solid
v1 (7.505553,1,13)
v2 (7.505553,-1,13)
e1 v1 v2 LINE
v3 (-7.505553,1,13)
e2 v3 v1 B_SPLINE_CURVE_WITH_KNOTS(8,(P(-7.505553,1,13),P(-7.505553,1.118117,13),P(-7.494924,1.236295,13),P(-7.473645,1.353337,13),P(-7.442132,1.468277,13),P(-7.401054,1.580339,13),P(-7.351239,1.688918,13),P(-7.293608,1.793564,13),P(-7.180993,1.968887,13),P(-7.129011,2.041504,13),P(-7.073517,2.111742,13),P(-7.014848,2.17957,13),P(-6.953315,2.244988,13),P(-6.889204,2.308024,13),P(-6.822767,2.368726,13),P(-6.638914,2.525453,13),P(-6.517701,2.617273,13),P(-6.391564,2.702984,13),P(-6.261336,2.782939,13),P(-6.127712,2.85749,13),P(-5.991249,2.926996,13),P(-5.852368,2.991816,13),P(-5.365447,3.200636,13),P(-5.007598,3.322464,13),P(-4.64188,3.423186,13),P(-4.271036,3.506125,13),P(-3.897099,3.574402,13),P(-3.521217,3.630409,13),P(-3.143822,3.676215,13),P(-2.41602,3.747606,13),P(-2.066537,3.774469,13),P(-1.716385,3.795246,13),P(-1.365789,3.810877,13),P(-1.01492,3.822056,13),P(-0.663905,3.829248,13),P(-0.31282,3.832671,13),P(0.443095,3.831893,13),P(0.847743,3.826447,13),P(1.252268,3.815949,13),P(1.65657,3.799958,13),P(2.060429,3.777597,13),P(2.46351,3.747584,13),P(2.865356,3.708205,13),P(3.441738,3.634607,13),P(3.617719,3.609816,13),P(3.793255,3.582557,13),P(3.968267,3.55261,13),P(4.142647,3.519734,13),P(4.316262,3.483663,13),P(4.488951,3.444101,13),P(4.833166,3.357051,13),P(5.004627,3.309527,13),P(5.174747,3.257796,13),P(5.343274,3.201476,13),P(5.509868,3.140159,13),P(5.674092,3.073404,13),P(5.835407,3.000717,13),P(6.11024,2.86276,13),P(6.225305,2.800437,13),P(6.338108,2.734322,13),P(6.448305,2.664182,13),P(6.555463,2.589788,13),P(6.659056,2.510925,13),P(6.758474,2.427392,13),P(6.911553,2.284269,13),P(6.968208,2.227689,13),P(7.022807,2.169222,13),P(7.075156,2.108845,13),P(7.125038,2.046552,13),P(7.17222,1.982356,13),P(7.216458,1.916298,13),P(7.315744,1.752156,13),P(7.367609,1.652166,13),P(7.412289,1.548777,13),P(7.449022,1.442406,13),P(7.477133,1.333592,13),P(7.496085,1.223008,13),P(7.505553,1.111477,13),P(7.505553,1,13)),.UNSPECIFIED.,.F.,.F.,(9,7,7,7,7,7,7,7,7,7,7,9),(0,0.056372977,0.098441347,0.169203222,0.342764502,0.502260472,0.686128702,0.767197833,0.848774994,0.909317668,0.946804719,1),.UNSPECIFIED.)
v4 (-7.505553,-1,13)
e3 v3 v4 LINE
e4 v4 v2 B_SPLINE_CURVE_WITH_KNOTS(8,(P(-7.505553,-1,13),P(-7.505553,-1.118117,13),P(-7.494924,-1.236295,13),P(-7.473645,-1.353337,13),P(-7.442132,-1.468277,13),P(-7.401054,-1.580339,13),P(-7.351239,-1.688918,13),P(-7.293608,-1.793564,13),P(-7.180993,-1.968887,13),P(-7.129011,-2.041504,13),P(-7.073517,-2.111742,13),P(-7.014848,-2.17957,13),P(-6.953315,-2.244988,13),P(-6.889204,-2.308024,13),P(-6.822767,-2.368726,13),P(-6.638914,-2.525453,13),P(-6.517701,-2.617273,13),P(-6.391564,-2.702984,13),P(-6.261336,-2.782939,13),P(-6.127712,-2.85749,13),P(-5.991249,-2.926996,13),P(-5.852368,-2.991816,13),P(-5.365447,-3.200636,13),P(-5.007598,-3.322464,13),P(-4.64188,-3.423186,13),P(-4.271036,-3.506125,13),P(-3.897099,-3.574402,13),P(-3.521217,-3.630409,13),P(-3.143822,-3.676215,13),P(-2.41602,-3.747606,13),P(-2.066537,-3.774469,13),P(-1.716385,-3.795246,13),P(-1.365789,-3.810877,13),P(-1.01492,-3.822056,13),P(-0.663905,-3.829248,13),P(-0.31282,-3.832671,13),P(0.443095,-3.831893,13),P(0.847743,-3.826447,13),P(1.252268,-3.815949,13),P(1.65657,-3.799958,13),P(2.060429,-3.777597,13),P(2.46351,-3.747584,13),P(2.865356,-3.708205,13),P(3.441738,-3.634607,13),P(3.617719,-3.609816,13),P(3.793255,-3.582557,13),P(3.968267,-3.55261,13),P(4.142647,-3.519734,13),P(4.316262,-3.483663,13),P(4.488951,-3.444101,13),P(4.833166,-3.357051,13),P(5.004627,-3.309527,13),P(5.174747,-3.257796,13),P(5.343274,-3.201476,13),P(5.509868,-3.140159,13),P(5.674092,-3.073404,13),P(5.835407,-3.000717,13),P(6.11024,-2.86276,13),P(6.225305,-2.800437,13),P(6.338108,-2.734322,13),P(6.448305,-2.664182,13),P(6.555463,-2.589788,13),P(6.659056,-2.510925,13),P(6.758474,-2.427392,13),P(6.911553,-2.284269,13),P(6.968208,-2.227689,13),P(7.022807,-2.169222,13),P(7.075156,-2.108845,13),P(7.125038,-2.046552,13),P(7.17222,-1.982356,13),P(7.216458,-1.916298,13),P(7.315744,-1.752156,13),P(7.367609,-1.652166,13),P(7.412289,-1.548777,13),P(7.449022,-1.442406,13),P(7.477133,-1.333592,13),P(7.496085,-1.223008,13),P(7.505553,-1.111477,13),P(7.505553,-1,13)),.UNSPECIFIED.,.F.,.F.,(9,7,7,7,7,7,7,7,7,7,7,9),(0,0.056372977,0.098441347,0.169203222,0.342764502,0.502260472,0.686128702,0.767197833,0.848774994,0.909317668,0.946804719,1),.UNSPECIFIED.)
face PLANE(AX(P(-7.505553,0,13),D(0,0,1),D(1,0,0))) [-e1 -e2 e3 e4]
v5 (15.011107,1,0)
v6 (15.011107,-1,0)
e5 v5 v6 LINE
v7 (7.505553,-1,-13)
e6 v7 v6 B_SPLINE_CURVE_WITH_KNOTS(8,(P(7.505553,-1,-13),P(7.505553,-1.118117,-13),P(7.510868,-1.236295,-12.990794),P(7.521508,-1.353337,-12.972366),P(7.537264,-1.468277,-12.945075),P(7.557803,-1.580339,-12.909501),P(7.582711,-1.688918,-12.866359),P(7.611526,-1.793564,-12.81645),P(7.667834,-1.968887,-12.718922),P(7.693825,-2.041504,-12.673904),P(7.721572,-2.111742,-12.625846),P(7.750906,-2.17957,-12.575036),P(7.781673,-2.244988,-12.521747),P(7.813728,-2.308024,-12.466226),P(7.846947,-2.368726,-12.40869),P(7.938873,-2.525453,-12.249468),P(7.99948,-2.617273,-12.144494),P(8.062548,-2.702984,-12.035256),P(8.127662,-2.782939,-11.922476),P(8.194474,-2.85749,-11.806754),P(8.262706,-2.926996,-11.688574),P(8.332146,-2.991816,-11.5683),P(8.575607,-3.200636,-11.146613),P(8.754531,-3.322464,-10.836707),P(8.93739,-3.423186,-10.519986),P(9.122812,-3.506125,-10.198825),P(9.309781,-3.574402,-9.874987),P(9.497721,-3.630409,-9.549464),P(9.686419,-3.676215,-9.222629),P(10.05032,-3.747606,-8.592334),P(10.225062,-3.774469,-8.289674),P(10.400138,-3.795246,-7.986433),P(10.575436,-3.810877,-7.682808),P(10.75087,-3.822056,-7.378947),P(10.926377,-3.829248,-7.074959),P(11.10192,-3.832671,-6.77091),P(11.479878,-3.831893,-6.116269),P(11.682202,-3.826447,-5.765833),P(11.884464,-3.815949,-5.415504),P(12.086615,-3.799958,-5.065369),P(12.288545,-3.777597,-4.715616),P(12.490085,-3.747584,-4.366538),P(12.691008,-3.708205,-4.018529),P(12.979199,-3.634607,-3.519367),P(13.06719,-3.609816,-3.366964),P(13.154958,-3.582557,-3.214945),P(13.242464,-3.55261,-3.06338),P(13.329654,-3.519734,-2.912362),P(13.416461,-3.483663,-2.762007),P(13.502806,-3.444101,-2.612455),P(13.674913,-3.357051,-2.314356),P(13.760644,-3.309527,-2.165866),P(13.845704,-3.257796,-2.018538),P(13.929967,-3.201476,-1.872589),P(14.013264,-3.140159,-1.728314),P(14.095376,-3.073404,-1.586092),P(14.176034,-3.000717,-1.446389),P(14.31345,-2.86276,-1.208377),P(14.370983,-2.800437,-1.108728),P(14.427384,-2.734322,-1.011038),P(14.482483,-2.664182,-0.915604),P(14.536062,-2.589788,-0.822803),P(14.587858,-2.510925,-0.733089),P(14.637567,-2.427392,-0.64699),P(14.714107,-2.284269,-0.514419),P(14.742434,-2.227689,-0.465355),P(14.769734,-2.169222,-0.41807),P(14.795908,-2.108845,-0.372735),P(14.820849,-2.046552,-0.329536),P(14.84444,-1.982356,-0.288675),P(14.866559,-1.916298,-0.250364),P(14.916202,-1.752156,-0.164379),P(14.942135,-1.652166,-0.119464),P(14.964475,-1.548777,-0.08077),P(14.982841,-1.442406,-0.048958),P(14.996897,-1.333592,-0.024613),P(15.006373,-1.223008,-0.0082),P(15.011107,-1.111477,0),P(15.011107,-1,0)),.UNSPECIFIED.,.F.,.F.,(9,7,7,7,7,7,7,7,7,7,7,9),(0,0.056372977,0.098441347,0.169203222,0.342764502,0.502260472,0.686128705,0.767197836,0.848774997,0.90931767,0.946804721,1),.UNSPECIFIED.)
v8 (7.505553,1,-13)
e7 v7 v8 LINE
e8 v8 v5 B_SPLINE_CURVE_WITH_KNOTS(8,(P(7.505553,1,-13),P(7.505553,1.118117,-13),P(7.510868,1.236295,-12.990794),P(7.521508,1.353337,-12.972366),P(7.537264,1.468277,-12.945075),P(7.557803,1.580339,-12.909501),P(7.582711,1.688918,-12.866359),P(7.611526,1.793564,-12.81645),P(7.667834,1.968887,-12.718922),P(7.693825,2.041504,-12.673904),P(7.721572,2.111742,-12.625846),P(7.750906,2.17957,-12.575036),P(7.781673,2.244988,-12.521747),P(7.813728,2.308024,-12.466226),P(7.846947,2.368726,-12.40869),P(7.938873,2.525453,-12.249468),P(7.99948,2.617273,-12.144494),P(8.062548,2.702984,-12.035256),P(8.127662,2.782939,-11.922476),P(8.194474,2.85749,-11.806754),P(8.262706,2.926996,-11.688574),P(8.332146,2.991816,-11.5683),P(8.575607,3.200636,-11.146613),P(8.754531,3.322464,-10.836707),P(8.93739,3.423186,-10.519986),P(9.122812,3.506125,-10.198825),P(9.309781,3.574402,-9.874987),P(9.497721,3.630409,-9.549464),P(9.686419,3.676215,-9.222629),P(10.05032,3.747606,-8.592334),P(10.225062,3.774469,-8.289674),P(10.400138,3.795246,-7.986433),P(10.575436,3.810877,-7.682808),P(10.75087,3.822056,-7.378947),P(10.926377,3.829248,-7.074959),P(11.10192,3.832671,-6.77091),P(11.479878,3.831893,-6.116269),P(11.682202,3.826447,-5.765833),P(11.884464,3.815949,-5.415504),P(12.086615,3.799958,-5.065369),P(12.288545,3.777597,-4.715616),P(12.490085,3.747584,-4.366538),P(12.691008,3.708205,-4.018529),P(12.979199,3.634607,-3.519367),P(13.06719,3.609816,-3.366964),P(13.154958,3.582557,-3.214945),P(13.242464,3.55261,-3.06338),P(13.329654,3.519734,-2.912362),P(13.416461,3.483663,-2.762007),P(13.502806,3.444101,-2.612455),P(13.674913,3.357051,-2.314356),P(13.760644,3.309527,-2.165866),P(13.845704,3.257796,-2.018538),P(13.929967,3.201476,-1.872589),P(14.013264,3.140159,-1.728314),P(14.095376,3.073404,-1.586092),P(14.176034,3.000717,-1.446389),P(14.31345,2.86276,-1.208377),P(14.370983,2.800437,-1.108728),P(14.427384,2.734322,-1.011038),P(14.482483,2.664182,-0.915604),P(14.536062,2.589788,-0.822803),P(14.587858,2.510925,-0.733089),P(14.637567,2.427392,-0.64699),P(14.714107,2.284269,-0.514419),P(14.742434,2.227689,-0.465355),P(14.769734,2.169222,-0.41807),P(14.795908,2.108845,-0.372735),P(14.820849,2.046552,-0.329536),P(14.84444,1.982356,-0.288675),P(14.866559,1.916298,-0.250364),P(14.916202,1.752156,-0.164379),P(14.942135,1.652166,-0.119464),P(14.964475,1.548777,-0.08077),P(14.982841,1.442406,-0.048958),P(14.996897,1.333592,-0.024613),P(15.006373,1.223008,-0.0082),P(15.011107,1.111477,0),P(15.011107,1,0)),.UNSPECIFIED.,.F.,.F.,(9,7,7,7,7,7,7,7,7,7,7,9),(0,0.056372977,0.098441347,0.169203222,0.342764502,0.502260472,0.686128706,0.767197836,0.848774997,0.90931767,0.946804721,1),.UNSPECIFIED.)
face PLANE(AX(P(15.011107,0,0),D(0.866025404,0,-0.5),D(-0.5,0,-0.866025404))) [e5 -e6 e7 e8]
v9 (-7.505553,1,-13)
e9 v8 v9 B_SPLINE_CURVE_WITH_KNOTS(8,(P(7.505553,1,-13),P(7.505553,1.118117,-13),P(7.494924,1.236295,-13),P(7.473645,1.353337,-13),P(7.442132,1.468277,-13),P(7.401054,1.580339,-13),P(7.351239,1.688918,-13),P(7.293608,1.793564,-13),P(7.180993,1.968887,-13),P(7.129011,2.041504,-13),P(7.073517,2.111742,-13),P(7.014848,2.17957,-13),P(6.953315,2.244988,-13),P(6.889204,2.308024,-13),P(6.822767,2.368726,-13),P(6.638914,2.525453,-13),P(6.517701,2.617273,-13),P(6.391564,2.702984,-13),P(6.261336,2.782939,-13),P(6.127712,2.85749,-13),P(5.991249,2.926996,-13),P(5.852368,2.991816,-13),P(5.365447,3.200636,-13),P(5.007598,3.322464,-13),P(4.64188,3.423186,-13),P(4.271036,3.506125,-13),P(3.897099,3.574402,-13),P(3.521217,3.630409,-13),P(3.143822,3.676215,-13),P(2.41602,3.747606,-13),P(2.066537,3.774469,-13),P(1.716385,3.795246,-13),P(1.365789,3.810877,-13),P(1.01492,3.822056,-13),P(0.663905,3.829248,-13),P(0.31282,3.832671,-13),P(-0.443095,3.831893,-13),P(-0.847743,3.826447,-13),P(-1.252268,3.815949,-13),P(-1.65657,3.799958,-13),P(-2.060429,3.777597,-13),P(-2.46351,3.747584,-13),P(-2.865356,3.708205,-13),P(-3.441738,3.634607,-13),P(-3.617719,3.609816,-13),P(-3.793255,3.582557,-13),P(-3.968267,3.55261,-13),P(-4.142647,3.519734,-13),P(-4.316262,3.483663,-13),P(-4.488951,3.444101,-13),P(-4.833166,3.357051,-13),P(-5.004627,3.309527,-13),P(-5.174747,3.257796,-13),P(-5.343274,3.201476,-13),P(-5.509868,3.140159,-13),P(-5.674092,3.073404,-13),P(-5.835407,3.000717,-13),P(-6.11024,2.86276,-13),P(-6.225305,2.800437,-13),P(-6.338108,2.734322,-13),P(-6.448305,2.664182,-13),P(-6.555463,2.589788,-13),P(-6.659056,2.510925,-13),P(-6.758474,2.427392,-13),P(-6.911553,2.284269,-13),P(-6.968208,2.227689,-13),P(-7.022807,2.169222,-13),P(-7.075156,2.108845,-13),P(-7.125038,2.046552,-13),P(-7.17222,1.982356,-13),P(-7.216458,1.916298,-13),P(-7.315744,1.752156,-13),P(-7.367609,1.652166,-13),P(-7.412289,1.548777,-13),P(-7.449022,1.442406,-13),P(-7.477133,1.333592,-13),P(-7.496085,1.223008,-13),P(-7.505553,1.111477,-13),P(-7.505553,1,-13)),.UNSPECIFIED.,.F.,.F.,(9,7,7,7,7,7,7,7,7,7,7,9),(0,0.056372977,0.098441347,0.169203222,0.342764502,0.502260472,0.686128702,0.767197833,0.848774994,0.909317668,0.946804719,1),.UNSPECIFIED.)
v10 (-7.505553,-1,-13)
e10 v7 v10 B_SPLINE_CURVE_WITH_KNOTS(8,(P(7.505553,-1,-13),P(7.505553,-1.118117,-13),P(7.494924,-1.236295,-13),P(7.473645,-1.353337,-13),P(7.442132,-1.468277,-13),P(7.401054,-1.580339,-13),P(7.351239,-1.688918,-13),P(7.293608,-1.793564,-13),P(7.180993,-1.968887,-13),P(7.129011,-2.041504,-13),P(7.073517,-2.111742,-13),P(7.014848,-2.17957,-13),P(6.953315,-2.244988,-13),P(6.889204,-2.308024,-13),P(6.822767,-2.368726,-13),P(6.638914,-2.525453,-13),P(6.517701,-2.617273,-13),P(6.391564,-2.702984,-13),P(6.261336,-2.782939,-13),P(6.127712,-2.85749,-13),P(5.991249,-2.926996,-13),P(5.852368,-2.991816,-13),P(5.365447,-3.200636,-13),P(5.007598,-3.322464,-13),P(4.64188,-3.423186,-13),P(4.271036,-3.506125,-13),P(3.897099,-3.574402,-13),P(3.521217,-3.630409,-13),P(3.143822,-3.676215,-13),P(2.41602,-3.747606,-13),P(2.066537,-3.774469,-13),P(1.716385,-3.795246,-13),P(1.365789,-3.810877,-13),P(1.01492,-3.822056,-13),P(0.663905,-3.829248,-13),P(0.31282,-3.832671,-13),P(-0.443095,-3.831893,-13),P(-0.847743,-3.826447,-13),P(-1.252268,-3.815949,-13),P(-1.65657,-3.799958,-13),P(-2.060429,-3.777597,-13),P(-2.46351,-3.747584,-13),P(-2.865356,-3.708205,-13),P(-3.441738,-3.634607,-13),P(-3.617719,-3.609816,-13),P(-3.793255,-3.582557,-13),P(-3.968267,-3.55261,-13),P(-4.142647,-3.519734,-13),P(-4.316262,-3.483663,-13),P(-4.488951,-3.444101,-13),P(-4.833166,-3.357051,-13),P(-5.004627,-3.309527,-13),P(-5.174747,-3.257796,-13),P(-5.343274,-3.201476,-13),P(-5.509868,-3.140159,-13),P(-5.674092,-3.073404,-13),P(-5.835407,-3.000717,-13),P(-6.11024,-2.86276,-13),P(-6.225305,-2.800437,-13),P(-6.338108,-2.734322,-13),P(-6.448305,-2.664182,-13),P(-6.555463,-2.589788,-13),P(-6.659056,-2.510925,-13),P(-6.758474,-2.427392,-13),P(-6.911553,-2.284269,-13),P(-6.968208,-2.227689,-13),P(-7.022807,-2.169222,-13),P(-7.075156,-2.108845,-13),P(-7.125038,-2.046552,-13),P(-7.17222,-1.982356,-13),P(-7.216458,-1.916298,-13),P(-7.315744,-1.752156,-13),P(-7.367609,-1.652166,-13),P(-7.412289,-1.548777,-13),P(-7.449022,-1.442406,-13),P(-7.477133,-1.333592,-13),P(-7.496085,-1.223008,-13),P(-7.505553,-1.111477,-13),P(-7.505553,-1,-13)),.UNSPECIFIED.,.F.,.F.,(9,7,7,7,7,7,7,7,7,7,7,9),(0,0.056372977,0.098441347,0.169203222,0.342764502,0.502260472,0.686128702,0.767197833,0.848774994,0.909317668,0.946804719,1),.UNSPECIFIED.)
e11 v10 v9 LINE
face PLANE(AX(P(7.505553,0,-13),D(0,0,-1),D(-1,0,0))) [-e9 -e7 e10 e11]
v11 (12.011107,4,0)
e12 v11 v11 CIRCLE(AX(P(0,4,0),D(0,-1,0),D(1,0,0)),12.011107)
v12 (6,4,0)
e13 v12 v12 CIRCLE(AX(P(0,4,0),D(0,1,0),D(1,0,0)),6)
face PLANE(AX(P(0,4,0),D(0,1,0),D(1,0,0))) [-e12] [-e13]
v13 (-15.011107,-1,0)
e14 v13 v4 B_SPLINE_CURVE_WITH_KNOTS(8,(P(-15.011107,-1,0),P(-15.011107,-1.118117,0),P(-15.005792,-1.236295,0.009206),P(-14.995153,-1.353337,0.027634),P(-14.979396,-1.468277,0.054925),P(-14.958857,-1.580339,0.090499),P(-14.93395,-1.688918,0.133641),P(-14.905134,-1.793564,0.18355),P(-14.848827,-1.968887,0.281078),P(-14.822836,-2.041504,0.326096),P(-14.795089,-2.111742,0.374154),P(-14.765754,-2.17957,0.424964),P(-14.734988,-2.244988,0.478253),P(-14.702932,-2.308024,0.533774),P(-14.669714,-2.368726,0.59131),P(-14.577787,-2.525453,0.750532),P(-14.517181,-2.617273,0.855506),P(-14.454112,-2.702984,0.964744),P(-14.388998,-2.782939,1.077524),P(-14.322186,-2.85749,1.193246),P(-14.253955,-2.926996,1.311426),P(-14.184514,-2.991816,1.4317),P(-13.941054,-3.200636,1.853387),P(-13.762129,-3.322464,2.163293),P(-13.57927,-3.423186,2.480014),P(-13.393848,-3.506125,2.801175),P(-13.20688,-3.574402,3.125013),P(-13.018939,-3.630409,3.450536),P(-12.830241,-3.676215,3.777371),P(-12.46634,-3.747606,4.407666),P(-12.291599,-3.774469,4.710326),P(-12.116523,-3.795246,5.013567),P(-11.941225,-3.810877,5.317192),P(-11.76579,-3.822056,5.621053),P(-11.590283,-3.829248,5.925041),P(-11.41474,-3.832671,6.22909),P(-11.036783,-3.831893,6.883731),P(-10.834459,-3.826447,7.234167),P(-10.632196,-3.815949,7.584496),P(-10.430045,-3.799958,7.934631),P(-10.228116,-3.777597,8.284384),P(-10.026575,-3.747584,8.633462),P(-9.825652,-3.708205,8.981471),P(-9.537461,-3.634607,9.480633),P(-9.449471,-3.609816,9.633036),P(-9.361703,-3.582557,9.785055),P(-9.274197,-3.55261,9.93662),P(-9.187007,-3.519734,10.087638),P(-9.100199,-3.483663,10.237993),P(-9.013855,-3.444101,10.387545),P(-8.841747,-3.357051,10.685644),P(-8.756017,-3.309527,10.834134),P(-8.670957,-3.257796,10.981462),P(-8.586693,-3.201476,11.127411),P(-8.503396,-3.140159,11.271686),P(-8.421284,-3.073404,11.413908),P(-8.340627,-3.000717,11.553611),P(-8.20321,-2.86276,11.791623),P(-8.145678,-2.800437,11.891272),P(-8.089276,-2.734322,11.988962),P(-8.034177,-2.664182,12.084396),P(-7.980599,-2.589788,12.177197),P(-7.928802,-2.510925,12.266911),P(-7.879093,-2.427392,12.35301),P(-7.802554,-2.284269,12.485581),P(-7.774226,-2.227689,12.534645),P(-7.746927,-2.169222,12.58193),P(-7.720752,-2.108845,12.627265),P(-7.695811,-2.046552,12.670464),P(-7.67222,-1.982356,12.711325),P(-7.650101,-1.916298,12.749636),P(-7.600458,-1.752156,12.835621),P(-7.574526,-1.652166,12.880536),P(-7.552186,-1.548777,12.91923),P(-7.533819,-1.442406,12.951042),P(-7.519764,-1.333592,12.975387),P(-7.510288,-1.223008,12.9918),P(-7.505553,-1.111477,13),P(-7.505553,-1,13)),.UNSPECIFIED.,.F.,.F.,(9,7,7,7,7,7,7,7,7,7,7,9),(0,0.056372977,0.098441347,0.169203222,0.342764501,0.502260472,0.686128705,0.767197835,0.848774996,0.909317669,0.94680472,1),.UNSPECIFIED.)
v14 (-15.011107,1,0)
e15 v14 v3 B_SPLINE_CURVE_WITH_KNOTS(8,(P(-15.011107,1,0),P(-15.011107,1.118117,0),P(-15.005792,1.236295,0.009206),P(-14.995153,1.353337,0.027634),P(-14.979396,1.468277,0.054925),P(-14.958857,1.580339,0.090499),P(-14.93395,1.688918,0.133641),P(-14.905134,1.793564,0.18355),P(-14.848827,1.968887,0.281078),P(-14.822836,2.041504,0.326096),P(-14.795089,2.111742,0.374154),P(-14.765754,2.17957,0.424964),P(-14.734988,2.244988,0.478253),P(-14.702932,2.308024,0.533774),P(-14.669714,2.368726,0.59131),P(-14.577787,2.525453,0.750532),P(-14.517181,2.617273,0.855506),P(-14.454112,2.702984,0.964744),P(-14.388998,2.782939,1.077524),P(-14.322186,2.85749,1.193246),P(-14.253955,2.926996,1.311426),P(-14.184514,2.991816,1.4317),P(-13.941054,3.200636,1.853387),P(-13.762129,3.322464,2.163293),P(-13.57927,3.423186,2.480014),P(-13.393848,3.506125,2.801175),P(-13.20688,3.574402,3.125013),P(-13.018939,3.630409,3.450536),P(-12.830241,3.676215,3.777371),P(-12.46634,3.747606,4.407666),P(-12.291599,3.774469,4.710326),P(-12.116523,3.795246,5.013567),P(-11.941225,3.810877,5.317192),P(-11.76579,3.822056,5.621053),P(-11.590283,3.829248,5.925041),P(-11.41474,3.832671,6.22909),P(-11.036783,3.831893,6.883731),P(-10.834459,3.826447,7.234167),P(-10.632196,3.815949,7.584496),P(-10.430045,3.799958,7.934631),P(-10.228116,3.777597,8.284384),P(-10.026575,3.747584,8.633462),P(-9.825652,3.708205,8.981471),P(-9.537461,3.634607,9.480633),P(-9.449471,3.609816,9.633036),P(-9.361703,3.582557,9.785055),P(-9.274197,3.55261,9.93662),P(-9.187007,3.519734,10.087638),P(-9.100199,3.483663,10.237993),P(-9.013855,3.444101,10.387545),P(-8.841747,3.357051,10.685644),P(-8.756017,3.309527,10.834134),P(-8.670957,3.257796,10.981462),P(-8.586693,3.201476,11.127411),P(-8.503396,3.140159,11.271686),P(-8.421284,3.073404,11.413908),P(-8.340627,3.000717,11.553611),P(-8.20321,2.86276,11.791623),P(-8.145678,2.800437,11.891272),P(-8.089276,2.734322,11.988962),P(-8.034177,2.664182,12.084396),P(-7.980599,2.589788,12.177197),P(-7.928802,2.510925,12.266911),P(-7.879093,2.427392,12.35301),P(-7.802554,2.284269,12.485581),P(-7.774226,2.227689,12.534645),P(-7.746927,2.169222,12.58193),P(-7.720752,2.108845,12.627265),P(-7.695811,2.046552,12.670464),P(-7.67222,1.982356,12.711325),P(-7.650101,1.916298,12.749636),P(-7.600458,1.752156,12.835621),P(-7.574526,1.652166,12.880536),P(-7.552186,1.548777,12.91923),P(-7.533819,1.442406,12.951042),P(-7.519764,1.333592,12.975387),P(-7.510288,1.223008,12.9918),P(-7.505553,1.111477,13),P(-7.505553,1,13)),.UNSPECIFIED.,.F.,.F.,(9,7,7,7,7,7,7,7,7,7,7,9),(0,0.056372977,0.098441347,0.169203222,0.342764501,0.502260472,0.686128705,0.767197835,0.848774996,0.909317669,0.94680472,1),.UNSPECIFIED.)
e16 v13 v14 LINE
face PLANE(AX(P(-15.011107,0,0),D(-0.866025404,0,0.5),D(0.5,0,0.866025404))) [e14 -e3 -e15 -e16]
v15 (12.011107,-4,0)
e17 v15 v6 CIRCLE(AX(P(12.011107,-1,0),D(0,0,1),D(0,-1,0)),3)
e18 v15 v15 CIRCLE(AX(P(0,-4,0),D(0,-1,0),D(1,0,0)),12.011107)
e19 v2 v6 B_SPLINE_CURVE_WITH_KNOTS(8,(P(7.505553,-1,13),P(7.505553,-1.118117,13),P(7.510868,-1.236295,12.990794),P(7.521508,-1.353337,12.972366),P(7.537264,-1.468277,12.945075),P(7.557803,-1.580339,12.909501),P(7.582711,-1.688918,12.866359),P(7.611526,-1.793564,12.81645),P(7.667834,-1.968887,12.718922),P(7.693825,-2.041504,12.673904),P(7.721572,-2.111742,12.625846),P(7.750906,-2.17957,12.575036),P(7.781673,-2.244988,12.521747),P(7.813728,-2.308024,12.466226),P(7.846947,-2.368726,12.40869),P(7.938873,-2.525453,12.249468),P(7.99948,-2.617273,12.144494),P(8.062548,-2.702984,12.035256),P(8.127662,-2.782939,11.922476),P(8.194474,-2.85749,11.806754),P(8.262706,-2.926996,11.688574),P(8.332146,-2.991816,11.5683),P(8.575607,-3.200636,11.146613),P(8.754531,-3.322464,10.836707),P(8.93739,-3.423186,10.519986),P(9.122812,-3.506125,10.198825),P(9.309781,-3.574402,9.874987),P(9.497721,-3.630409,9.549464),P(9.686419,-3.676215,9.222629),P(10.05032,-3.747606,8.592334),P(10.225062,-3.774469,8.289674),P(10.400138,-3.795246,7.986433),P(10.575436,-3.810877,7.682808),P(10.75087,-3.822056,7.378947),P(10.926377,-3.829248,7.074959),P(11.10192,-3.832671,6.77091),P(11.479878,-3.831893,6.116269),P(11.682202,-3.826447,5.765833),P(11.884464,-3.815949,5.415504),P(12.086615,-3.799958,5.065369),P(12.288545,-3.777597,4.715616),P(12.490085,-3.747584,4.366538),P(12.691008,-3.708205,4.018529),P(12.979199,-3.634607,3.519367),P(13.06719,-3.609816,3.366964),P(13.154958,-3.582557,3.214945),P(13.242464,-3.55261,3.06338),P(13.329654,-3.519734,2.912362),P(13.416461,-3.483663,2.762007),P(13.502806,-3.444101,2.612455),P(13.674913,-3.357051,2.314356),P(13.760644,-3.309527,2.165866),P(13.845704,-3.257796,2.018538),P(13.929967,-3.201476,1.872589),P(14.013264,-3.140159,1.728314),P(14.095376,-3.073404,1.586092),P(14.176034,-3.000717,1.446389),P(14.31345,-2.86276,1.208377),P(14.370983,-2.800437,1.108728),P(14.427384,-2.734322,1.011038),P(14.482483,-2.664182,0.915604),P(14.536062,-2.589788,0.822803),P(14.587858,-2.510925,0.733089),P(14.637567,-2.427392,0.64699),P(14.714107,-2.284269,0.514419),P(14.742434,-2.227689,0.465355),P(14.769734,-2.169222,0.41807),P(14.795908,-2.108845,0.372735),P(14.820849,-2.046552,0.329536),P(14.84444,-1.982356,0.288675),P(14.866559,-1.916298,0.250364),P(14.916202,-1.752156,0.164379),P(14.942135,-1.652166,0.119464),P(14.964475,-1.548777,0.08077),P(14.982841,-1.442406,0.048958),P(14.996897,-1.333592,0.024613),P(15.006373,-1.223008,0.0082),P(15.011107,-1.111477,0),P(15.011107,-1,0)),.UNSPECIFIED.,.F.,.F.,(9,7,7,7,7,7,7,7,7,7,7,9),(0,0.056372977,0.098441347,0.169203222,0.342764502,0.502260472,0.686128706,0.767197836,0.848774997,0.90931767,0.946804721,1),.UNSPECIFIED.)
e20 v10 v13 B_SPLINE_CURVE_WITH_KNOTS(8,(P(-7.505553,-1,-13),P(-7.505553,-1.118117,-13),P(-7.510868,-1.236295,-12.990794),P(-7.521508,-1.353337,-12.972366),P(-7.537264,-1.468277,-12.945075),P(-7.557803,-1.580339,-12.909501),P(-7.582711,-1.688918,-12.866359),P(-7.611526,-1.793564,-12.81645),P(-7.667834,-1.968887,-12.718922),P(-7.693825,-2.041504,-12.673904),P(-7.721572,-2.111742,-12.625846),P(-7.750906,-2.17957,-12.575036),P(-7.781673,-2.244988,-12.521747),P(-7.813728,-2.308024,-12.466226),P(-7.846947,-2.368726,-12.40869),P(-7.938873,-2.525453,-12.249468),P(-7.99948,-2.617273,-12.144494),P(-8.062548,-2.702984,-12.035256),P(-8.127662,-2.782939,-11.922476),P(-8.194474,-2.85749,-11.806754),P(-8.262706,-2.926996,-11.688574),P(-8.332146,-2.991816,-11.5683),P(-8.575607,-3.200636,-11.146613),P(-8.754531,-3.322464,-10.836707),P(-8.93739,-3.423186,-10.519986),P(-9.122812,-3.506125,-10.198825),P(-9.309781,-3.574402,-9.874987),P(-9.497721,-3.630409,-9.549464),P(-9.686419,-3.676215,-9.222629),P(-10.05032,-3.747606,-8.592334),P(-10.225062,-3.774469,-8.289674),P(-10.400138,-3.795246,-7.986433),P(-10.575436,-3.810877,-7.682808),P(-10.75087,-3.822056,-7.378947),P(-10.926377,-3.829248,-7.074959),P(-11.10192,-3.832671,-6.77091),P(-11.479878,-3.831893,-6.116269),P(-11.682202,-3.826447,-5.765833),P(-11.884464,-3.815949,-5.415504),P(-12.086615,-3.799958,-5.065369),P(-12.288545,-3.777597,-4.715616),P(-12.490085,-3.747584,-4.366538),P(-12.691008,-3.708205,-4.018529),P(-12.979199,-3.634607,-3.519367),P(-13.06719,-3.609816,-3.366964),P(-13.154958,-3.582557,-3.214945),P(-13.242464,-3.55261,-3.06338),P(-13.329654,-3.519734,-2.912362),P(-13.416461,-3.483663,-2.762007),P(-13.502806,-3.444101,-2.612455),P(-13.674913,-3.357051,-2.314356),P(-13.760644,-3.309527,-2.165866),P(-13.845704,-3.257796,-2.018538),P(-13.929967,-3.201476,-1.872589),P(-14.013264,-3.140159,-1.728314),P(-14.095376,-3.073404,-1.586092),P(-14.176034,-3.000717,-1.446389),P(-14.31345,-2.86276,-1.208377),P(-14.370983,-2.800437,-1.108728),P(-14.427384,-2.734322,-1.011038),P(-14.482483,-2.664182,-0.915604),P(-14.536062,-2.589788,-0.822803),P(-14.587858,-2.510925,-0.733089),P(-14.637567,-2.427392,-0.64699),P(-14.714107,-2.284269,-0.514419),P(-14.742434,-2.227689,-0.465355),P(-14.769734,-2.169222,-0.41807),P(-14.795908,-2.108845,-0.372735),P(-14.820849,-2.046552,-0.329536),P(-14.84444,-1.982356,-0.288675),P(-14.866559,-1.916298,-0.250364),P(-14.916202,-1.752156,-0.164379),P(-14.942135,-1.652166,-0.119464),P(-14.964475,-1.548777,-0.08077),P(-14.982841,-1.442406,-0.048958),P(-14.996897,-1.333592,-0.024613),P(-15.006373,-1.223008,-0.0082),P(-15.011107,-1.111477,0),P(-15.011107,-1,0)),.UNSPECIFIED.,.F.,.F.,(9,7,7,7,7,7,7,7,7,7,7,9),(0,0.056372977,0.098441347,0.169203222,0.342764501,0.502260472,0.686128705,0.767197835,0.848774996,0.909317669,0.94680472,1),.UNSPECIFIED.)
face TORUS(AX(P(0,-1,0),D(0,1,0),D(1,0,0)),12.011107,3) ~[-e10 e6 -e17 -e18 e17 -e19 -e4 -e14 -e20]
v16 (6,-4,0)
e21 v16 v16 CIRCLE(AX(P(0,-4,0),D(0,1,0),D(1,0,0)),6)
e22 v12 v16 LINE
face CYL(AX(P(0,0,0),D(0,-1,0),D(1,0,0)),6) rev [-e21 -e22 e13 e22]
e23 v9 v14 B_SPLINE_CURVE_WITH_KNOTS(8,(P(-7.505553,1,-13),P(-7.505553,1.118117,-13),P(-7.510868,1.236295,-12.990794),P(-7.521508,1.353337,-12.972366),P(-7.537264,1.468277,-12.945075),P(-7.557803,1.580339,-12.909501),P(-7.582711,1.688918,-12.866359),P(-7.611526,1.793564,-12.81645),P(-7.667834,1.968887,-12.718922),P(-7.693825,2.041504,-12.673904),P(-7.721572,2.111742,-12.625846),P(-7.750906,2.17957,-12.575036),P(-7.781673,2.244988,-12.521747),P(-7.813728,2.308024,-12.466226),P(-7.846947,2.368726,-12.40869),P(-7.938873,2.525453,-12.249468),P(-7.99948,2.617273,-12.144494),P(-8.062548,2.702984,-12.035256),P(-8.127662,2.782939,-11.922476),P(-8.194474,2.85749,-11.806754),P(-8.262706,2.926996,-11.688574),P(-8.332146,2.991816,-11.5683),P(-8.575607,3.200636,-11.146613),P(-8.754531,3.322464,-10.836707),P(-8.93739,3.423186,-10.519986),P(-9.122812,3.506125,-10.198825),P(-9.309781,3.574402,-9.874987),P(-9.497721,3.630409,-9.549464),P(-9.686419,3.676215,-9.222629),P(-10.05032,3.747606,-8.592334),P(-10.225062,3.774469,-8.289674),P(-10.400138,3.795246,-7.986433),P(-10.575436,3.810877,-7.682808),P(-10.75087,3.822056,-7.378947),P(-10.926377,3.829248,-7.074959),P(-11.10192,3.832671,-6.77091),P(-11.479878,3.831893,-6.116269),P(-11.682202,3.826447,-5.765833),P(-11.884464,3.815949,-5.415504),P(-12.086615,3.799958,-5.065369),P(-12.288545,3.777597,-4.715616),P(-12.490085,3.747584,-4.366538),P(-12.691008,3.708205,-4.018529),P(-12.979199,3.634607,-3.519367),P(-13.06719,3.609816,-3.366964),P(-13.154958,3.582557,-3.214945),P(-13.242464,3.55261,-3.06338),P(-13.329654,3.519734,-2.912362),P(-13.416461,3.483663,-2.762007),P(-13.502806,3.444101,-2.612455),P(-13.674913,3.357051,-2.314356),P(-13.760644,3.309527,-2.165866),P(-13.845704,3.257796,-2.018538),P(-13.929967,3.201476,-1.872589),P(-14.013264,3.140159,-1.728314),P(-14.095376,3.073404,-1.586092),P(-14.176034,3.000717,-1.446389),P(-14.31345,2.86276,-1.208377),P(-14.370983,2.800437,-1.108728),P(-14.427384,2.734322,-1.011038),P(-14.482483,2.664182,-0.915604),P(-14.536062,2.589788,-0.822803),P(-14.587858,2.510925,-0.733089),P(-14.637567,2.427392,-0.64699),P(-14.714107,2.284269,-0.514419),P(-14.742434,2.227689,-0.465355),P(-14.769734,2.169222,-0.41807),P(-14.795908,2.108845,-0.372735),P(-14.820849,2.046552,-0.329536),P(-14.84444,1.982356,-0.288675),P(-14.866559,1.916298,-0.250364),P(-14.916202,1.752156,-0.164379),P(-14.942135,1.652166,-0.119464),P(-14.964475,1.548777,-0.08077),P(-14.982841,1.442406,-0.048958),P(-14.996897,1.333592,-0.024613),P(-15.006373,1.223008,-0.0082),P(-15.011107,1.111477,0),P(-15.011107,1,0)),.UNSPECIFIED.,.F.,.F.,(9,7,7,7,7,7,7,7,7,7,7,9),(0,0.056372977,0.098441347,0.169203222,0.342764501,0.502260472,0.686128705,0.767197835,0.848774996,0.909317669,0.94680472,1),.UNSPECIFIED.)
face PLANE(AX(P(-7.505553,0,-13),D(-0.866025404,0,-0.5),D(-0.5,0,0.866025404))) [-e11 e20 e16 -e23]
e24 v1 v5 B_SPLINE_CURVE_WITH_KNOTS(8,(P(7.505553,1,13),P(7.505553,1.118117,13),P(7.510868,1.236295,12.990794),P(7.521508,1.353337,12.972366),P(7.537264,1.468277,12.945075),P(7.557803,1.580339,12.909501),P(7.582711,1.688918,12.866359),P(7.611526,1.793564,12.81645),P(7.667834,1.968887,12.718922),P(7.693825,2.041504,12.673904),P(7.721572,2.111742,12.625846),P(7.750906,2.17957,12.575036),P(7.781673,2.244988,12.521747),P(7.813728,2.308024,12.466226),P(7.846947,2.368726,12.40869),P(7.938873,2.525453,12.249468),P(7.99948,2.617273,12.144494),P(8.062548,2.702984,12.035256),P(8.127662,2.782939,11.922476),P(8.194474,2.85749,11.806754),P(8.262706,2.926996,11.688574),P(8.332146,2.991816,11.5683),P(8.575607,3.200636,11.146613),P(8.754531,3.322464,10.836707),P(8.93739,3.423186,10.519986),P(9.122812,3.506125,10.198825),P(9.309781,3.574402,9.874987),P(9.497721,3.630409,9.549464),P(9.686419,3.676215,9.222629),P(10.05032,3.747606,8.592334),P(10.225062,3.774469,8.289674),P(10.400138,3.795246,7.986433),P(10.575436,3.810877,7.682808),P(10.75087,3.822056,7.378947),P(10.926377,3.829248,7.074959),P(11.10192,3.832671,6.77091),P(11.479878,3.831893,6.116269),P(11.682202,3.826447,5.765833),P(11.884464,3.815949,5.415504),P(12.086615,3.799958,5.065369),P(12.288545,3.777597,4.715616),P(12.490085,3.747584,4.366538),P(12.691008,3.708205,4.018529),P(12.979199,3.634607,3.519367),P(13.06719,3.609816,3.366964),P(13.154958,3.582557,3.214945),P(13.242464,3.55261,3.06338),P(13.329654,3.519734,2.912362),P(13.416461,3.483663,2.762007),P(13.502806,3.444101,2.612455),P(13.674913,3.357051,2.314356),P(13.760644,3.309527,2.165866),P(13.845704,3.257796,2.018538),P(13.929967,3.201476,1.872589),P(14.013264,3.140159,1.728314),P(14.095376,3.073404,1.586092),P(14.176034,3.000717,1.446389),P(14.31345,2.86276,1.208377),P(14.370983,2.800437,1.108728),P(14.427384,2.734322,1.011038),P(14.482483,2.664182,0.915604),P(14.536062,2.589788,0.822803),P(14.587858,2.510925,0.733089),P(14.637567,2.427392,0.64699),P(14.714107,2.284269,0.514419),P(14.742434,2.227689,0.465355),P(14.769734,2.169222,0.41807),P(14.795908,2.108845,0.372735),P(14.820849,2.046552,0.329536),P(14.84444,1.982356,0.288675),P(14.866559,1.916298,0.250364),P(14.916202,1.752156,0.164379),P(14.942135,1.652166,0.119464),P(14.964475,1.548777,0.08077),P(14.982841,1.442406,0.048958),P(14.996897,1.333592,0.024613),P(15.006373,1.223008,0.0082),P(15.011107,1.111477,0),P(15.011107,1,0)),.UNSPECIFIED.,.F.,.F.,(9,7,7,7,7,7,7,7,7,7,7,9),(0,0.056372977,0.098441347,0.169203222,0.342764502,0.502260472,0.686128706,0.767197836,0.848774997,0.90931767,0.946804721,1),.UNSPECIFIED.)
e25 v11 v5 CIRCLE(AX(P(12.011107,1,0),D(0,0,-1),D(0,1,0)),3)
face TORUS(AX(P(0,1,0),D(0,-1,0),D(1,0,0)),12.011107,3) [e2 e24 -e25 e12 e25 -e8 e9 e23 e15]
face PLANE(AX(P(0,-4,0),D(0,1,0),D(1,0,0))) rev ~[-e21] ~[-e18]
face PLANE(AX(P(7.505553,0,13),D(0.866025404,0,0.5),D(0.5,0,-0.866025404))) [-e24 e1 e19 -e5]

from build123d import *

# Parameters (mm, degrees)
SKETCH1_R           = 6
BOSS_EXTRUDE1_DEPTH = 4


with BuildPart() as part:
    # Sketch1 → Boss-Extrude1 (new body, symmetric)
    with BuildSketch(Plane(origin=(0, 0, 0), x_dir=(1, 0, 0), z_dir=(0, 1, 0))):
        Polygon((15.011106999, 0), (7.505553499, 13), (-7.505553499, 13), (-15.011106999, 0), (-7.505553499, -13), (7.505553499, -13), align=None)
        Circle(SKETCH1_R, mode=Mode.SUBTRACT)
    extrude(amount=BOSS_EXTRUDE1_DEPTH, both=True)

    # Sketch2 → Cut-Revolve1 (revolve, cut)
    with BuildSketch(Plane.XY):
        with BuildLine():
            Line((15.011106999, 1), (15.011106999, 4))
            Line((15.011106999, 4), (12.011106999, 4))
            ThreePointArc((12.011106999, 4), (14.132427342, 3.121320344), (15.011106999, 1))
        make_face()
    cut_revolve1 = revolve(axis=Axis((0, 7.294501908, 0), (0, -1, 0)), mode=Mode.SUBTRACT)

    # Mirror1: Cut-Revolve1 across plane
    add(cut_revolve1.mirror(Plane.ZX), mode=Mode.SUBTRACT)


solid = part.part
